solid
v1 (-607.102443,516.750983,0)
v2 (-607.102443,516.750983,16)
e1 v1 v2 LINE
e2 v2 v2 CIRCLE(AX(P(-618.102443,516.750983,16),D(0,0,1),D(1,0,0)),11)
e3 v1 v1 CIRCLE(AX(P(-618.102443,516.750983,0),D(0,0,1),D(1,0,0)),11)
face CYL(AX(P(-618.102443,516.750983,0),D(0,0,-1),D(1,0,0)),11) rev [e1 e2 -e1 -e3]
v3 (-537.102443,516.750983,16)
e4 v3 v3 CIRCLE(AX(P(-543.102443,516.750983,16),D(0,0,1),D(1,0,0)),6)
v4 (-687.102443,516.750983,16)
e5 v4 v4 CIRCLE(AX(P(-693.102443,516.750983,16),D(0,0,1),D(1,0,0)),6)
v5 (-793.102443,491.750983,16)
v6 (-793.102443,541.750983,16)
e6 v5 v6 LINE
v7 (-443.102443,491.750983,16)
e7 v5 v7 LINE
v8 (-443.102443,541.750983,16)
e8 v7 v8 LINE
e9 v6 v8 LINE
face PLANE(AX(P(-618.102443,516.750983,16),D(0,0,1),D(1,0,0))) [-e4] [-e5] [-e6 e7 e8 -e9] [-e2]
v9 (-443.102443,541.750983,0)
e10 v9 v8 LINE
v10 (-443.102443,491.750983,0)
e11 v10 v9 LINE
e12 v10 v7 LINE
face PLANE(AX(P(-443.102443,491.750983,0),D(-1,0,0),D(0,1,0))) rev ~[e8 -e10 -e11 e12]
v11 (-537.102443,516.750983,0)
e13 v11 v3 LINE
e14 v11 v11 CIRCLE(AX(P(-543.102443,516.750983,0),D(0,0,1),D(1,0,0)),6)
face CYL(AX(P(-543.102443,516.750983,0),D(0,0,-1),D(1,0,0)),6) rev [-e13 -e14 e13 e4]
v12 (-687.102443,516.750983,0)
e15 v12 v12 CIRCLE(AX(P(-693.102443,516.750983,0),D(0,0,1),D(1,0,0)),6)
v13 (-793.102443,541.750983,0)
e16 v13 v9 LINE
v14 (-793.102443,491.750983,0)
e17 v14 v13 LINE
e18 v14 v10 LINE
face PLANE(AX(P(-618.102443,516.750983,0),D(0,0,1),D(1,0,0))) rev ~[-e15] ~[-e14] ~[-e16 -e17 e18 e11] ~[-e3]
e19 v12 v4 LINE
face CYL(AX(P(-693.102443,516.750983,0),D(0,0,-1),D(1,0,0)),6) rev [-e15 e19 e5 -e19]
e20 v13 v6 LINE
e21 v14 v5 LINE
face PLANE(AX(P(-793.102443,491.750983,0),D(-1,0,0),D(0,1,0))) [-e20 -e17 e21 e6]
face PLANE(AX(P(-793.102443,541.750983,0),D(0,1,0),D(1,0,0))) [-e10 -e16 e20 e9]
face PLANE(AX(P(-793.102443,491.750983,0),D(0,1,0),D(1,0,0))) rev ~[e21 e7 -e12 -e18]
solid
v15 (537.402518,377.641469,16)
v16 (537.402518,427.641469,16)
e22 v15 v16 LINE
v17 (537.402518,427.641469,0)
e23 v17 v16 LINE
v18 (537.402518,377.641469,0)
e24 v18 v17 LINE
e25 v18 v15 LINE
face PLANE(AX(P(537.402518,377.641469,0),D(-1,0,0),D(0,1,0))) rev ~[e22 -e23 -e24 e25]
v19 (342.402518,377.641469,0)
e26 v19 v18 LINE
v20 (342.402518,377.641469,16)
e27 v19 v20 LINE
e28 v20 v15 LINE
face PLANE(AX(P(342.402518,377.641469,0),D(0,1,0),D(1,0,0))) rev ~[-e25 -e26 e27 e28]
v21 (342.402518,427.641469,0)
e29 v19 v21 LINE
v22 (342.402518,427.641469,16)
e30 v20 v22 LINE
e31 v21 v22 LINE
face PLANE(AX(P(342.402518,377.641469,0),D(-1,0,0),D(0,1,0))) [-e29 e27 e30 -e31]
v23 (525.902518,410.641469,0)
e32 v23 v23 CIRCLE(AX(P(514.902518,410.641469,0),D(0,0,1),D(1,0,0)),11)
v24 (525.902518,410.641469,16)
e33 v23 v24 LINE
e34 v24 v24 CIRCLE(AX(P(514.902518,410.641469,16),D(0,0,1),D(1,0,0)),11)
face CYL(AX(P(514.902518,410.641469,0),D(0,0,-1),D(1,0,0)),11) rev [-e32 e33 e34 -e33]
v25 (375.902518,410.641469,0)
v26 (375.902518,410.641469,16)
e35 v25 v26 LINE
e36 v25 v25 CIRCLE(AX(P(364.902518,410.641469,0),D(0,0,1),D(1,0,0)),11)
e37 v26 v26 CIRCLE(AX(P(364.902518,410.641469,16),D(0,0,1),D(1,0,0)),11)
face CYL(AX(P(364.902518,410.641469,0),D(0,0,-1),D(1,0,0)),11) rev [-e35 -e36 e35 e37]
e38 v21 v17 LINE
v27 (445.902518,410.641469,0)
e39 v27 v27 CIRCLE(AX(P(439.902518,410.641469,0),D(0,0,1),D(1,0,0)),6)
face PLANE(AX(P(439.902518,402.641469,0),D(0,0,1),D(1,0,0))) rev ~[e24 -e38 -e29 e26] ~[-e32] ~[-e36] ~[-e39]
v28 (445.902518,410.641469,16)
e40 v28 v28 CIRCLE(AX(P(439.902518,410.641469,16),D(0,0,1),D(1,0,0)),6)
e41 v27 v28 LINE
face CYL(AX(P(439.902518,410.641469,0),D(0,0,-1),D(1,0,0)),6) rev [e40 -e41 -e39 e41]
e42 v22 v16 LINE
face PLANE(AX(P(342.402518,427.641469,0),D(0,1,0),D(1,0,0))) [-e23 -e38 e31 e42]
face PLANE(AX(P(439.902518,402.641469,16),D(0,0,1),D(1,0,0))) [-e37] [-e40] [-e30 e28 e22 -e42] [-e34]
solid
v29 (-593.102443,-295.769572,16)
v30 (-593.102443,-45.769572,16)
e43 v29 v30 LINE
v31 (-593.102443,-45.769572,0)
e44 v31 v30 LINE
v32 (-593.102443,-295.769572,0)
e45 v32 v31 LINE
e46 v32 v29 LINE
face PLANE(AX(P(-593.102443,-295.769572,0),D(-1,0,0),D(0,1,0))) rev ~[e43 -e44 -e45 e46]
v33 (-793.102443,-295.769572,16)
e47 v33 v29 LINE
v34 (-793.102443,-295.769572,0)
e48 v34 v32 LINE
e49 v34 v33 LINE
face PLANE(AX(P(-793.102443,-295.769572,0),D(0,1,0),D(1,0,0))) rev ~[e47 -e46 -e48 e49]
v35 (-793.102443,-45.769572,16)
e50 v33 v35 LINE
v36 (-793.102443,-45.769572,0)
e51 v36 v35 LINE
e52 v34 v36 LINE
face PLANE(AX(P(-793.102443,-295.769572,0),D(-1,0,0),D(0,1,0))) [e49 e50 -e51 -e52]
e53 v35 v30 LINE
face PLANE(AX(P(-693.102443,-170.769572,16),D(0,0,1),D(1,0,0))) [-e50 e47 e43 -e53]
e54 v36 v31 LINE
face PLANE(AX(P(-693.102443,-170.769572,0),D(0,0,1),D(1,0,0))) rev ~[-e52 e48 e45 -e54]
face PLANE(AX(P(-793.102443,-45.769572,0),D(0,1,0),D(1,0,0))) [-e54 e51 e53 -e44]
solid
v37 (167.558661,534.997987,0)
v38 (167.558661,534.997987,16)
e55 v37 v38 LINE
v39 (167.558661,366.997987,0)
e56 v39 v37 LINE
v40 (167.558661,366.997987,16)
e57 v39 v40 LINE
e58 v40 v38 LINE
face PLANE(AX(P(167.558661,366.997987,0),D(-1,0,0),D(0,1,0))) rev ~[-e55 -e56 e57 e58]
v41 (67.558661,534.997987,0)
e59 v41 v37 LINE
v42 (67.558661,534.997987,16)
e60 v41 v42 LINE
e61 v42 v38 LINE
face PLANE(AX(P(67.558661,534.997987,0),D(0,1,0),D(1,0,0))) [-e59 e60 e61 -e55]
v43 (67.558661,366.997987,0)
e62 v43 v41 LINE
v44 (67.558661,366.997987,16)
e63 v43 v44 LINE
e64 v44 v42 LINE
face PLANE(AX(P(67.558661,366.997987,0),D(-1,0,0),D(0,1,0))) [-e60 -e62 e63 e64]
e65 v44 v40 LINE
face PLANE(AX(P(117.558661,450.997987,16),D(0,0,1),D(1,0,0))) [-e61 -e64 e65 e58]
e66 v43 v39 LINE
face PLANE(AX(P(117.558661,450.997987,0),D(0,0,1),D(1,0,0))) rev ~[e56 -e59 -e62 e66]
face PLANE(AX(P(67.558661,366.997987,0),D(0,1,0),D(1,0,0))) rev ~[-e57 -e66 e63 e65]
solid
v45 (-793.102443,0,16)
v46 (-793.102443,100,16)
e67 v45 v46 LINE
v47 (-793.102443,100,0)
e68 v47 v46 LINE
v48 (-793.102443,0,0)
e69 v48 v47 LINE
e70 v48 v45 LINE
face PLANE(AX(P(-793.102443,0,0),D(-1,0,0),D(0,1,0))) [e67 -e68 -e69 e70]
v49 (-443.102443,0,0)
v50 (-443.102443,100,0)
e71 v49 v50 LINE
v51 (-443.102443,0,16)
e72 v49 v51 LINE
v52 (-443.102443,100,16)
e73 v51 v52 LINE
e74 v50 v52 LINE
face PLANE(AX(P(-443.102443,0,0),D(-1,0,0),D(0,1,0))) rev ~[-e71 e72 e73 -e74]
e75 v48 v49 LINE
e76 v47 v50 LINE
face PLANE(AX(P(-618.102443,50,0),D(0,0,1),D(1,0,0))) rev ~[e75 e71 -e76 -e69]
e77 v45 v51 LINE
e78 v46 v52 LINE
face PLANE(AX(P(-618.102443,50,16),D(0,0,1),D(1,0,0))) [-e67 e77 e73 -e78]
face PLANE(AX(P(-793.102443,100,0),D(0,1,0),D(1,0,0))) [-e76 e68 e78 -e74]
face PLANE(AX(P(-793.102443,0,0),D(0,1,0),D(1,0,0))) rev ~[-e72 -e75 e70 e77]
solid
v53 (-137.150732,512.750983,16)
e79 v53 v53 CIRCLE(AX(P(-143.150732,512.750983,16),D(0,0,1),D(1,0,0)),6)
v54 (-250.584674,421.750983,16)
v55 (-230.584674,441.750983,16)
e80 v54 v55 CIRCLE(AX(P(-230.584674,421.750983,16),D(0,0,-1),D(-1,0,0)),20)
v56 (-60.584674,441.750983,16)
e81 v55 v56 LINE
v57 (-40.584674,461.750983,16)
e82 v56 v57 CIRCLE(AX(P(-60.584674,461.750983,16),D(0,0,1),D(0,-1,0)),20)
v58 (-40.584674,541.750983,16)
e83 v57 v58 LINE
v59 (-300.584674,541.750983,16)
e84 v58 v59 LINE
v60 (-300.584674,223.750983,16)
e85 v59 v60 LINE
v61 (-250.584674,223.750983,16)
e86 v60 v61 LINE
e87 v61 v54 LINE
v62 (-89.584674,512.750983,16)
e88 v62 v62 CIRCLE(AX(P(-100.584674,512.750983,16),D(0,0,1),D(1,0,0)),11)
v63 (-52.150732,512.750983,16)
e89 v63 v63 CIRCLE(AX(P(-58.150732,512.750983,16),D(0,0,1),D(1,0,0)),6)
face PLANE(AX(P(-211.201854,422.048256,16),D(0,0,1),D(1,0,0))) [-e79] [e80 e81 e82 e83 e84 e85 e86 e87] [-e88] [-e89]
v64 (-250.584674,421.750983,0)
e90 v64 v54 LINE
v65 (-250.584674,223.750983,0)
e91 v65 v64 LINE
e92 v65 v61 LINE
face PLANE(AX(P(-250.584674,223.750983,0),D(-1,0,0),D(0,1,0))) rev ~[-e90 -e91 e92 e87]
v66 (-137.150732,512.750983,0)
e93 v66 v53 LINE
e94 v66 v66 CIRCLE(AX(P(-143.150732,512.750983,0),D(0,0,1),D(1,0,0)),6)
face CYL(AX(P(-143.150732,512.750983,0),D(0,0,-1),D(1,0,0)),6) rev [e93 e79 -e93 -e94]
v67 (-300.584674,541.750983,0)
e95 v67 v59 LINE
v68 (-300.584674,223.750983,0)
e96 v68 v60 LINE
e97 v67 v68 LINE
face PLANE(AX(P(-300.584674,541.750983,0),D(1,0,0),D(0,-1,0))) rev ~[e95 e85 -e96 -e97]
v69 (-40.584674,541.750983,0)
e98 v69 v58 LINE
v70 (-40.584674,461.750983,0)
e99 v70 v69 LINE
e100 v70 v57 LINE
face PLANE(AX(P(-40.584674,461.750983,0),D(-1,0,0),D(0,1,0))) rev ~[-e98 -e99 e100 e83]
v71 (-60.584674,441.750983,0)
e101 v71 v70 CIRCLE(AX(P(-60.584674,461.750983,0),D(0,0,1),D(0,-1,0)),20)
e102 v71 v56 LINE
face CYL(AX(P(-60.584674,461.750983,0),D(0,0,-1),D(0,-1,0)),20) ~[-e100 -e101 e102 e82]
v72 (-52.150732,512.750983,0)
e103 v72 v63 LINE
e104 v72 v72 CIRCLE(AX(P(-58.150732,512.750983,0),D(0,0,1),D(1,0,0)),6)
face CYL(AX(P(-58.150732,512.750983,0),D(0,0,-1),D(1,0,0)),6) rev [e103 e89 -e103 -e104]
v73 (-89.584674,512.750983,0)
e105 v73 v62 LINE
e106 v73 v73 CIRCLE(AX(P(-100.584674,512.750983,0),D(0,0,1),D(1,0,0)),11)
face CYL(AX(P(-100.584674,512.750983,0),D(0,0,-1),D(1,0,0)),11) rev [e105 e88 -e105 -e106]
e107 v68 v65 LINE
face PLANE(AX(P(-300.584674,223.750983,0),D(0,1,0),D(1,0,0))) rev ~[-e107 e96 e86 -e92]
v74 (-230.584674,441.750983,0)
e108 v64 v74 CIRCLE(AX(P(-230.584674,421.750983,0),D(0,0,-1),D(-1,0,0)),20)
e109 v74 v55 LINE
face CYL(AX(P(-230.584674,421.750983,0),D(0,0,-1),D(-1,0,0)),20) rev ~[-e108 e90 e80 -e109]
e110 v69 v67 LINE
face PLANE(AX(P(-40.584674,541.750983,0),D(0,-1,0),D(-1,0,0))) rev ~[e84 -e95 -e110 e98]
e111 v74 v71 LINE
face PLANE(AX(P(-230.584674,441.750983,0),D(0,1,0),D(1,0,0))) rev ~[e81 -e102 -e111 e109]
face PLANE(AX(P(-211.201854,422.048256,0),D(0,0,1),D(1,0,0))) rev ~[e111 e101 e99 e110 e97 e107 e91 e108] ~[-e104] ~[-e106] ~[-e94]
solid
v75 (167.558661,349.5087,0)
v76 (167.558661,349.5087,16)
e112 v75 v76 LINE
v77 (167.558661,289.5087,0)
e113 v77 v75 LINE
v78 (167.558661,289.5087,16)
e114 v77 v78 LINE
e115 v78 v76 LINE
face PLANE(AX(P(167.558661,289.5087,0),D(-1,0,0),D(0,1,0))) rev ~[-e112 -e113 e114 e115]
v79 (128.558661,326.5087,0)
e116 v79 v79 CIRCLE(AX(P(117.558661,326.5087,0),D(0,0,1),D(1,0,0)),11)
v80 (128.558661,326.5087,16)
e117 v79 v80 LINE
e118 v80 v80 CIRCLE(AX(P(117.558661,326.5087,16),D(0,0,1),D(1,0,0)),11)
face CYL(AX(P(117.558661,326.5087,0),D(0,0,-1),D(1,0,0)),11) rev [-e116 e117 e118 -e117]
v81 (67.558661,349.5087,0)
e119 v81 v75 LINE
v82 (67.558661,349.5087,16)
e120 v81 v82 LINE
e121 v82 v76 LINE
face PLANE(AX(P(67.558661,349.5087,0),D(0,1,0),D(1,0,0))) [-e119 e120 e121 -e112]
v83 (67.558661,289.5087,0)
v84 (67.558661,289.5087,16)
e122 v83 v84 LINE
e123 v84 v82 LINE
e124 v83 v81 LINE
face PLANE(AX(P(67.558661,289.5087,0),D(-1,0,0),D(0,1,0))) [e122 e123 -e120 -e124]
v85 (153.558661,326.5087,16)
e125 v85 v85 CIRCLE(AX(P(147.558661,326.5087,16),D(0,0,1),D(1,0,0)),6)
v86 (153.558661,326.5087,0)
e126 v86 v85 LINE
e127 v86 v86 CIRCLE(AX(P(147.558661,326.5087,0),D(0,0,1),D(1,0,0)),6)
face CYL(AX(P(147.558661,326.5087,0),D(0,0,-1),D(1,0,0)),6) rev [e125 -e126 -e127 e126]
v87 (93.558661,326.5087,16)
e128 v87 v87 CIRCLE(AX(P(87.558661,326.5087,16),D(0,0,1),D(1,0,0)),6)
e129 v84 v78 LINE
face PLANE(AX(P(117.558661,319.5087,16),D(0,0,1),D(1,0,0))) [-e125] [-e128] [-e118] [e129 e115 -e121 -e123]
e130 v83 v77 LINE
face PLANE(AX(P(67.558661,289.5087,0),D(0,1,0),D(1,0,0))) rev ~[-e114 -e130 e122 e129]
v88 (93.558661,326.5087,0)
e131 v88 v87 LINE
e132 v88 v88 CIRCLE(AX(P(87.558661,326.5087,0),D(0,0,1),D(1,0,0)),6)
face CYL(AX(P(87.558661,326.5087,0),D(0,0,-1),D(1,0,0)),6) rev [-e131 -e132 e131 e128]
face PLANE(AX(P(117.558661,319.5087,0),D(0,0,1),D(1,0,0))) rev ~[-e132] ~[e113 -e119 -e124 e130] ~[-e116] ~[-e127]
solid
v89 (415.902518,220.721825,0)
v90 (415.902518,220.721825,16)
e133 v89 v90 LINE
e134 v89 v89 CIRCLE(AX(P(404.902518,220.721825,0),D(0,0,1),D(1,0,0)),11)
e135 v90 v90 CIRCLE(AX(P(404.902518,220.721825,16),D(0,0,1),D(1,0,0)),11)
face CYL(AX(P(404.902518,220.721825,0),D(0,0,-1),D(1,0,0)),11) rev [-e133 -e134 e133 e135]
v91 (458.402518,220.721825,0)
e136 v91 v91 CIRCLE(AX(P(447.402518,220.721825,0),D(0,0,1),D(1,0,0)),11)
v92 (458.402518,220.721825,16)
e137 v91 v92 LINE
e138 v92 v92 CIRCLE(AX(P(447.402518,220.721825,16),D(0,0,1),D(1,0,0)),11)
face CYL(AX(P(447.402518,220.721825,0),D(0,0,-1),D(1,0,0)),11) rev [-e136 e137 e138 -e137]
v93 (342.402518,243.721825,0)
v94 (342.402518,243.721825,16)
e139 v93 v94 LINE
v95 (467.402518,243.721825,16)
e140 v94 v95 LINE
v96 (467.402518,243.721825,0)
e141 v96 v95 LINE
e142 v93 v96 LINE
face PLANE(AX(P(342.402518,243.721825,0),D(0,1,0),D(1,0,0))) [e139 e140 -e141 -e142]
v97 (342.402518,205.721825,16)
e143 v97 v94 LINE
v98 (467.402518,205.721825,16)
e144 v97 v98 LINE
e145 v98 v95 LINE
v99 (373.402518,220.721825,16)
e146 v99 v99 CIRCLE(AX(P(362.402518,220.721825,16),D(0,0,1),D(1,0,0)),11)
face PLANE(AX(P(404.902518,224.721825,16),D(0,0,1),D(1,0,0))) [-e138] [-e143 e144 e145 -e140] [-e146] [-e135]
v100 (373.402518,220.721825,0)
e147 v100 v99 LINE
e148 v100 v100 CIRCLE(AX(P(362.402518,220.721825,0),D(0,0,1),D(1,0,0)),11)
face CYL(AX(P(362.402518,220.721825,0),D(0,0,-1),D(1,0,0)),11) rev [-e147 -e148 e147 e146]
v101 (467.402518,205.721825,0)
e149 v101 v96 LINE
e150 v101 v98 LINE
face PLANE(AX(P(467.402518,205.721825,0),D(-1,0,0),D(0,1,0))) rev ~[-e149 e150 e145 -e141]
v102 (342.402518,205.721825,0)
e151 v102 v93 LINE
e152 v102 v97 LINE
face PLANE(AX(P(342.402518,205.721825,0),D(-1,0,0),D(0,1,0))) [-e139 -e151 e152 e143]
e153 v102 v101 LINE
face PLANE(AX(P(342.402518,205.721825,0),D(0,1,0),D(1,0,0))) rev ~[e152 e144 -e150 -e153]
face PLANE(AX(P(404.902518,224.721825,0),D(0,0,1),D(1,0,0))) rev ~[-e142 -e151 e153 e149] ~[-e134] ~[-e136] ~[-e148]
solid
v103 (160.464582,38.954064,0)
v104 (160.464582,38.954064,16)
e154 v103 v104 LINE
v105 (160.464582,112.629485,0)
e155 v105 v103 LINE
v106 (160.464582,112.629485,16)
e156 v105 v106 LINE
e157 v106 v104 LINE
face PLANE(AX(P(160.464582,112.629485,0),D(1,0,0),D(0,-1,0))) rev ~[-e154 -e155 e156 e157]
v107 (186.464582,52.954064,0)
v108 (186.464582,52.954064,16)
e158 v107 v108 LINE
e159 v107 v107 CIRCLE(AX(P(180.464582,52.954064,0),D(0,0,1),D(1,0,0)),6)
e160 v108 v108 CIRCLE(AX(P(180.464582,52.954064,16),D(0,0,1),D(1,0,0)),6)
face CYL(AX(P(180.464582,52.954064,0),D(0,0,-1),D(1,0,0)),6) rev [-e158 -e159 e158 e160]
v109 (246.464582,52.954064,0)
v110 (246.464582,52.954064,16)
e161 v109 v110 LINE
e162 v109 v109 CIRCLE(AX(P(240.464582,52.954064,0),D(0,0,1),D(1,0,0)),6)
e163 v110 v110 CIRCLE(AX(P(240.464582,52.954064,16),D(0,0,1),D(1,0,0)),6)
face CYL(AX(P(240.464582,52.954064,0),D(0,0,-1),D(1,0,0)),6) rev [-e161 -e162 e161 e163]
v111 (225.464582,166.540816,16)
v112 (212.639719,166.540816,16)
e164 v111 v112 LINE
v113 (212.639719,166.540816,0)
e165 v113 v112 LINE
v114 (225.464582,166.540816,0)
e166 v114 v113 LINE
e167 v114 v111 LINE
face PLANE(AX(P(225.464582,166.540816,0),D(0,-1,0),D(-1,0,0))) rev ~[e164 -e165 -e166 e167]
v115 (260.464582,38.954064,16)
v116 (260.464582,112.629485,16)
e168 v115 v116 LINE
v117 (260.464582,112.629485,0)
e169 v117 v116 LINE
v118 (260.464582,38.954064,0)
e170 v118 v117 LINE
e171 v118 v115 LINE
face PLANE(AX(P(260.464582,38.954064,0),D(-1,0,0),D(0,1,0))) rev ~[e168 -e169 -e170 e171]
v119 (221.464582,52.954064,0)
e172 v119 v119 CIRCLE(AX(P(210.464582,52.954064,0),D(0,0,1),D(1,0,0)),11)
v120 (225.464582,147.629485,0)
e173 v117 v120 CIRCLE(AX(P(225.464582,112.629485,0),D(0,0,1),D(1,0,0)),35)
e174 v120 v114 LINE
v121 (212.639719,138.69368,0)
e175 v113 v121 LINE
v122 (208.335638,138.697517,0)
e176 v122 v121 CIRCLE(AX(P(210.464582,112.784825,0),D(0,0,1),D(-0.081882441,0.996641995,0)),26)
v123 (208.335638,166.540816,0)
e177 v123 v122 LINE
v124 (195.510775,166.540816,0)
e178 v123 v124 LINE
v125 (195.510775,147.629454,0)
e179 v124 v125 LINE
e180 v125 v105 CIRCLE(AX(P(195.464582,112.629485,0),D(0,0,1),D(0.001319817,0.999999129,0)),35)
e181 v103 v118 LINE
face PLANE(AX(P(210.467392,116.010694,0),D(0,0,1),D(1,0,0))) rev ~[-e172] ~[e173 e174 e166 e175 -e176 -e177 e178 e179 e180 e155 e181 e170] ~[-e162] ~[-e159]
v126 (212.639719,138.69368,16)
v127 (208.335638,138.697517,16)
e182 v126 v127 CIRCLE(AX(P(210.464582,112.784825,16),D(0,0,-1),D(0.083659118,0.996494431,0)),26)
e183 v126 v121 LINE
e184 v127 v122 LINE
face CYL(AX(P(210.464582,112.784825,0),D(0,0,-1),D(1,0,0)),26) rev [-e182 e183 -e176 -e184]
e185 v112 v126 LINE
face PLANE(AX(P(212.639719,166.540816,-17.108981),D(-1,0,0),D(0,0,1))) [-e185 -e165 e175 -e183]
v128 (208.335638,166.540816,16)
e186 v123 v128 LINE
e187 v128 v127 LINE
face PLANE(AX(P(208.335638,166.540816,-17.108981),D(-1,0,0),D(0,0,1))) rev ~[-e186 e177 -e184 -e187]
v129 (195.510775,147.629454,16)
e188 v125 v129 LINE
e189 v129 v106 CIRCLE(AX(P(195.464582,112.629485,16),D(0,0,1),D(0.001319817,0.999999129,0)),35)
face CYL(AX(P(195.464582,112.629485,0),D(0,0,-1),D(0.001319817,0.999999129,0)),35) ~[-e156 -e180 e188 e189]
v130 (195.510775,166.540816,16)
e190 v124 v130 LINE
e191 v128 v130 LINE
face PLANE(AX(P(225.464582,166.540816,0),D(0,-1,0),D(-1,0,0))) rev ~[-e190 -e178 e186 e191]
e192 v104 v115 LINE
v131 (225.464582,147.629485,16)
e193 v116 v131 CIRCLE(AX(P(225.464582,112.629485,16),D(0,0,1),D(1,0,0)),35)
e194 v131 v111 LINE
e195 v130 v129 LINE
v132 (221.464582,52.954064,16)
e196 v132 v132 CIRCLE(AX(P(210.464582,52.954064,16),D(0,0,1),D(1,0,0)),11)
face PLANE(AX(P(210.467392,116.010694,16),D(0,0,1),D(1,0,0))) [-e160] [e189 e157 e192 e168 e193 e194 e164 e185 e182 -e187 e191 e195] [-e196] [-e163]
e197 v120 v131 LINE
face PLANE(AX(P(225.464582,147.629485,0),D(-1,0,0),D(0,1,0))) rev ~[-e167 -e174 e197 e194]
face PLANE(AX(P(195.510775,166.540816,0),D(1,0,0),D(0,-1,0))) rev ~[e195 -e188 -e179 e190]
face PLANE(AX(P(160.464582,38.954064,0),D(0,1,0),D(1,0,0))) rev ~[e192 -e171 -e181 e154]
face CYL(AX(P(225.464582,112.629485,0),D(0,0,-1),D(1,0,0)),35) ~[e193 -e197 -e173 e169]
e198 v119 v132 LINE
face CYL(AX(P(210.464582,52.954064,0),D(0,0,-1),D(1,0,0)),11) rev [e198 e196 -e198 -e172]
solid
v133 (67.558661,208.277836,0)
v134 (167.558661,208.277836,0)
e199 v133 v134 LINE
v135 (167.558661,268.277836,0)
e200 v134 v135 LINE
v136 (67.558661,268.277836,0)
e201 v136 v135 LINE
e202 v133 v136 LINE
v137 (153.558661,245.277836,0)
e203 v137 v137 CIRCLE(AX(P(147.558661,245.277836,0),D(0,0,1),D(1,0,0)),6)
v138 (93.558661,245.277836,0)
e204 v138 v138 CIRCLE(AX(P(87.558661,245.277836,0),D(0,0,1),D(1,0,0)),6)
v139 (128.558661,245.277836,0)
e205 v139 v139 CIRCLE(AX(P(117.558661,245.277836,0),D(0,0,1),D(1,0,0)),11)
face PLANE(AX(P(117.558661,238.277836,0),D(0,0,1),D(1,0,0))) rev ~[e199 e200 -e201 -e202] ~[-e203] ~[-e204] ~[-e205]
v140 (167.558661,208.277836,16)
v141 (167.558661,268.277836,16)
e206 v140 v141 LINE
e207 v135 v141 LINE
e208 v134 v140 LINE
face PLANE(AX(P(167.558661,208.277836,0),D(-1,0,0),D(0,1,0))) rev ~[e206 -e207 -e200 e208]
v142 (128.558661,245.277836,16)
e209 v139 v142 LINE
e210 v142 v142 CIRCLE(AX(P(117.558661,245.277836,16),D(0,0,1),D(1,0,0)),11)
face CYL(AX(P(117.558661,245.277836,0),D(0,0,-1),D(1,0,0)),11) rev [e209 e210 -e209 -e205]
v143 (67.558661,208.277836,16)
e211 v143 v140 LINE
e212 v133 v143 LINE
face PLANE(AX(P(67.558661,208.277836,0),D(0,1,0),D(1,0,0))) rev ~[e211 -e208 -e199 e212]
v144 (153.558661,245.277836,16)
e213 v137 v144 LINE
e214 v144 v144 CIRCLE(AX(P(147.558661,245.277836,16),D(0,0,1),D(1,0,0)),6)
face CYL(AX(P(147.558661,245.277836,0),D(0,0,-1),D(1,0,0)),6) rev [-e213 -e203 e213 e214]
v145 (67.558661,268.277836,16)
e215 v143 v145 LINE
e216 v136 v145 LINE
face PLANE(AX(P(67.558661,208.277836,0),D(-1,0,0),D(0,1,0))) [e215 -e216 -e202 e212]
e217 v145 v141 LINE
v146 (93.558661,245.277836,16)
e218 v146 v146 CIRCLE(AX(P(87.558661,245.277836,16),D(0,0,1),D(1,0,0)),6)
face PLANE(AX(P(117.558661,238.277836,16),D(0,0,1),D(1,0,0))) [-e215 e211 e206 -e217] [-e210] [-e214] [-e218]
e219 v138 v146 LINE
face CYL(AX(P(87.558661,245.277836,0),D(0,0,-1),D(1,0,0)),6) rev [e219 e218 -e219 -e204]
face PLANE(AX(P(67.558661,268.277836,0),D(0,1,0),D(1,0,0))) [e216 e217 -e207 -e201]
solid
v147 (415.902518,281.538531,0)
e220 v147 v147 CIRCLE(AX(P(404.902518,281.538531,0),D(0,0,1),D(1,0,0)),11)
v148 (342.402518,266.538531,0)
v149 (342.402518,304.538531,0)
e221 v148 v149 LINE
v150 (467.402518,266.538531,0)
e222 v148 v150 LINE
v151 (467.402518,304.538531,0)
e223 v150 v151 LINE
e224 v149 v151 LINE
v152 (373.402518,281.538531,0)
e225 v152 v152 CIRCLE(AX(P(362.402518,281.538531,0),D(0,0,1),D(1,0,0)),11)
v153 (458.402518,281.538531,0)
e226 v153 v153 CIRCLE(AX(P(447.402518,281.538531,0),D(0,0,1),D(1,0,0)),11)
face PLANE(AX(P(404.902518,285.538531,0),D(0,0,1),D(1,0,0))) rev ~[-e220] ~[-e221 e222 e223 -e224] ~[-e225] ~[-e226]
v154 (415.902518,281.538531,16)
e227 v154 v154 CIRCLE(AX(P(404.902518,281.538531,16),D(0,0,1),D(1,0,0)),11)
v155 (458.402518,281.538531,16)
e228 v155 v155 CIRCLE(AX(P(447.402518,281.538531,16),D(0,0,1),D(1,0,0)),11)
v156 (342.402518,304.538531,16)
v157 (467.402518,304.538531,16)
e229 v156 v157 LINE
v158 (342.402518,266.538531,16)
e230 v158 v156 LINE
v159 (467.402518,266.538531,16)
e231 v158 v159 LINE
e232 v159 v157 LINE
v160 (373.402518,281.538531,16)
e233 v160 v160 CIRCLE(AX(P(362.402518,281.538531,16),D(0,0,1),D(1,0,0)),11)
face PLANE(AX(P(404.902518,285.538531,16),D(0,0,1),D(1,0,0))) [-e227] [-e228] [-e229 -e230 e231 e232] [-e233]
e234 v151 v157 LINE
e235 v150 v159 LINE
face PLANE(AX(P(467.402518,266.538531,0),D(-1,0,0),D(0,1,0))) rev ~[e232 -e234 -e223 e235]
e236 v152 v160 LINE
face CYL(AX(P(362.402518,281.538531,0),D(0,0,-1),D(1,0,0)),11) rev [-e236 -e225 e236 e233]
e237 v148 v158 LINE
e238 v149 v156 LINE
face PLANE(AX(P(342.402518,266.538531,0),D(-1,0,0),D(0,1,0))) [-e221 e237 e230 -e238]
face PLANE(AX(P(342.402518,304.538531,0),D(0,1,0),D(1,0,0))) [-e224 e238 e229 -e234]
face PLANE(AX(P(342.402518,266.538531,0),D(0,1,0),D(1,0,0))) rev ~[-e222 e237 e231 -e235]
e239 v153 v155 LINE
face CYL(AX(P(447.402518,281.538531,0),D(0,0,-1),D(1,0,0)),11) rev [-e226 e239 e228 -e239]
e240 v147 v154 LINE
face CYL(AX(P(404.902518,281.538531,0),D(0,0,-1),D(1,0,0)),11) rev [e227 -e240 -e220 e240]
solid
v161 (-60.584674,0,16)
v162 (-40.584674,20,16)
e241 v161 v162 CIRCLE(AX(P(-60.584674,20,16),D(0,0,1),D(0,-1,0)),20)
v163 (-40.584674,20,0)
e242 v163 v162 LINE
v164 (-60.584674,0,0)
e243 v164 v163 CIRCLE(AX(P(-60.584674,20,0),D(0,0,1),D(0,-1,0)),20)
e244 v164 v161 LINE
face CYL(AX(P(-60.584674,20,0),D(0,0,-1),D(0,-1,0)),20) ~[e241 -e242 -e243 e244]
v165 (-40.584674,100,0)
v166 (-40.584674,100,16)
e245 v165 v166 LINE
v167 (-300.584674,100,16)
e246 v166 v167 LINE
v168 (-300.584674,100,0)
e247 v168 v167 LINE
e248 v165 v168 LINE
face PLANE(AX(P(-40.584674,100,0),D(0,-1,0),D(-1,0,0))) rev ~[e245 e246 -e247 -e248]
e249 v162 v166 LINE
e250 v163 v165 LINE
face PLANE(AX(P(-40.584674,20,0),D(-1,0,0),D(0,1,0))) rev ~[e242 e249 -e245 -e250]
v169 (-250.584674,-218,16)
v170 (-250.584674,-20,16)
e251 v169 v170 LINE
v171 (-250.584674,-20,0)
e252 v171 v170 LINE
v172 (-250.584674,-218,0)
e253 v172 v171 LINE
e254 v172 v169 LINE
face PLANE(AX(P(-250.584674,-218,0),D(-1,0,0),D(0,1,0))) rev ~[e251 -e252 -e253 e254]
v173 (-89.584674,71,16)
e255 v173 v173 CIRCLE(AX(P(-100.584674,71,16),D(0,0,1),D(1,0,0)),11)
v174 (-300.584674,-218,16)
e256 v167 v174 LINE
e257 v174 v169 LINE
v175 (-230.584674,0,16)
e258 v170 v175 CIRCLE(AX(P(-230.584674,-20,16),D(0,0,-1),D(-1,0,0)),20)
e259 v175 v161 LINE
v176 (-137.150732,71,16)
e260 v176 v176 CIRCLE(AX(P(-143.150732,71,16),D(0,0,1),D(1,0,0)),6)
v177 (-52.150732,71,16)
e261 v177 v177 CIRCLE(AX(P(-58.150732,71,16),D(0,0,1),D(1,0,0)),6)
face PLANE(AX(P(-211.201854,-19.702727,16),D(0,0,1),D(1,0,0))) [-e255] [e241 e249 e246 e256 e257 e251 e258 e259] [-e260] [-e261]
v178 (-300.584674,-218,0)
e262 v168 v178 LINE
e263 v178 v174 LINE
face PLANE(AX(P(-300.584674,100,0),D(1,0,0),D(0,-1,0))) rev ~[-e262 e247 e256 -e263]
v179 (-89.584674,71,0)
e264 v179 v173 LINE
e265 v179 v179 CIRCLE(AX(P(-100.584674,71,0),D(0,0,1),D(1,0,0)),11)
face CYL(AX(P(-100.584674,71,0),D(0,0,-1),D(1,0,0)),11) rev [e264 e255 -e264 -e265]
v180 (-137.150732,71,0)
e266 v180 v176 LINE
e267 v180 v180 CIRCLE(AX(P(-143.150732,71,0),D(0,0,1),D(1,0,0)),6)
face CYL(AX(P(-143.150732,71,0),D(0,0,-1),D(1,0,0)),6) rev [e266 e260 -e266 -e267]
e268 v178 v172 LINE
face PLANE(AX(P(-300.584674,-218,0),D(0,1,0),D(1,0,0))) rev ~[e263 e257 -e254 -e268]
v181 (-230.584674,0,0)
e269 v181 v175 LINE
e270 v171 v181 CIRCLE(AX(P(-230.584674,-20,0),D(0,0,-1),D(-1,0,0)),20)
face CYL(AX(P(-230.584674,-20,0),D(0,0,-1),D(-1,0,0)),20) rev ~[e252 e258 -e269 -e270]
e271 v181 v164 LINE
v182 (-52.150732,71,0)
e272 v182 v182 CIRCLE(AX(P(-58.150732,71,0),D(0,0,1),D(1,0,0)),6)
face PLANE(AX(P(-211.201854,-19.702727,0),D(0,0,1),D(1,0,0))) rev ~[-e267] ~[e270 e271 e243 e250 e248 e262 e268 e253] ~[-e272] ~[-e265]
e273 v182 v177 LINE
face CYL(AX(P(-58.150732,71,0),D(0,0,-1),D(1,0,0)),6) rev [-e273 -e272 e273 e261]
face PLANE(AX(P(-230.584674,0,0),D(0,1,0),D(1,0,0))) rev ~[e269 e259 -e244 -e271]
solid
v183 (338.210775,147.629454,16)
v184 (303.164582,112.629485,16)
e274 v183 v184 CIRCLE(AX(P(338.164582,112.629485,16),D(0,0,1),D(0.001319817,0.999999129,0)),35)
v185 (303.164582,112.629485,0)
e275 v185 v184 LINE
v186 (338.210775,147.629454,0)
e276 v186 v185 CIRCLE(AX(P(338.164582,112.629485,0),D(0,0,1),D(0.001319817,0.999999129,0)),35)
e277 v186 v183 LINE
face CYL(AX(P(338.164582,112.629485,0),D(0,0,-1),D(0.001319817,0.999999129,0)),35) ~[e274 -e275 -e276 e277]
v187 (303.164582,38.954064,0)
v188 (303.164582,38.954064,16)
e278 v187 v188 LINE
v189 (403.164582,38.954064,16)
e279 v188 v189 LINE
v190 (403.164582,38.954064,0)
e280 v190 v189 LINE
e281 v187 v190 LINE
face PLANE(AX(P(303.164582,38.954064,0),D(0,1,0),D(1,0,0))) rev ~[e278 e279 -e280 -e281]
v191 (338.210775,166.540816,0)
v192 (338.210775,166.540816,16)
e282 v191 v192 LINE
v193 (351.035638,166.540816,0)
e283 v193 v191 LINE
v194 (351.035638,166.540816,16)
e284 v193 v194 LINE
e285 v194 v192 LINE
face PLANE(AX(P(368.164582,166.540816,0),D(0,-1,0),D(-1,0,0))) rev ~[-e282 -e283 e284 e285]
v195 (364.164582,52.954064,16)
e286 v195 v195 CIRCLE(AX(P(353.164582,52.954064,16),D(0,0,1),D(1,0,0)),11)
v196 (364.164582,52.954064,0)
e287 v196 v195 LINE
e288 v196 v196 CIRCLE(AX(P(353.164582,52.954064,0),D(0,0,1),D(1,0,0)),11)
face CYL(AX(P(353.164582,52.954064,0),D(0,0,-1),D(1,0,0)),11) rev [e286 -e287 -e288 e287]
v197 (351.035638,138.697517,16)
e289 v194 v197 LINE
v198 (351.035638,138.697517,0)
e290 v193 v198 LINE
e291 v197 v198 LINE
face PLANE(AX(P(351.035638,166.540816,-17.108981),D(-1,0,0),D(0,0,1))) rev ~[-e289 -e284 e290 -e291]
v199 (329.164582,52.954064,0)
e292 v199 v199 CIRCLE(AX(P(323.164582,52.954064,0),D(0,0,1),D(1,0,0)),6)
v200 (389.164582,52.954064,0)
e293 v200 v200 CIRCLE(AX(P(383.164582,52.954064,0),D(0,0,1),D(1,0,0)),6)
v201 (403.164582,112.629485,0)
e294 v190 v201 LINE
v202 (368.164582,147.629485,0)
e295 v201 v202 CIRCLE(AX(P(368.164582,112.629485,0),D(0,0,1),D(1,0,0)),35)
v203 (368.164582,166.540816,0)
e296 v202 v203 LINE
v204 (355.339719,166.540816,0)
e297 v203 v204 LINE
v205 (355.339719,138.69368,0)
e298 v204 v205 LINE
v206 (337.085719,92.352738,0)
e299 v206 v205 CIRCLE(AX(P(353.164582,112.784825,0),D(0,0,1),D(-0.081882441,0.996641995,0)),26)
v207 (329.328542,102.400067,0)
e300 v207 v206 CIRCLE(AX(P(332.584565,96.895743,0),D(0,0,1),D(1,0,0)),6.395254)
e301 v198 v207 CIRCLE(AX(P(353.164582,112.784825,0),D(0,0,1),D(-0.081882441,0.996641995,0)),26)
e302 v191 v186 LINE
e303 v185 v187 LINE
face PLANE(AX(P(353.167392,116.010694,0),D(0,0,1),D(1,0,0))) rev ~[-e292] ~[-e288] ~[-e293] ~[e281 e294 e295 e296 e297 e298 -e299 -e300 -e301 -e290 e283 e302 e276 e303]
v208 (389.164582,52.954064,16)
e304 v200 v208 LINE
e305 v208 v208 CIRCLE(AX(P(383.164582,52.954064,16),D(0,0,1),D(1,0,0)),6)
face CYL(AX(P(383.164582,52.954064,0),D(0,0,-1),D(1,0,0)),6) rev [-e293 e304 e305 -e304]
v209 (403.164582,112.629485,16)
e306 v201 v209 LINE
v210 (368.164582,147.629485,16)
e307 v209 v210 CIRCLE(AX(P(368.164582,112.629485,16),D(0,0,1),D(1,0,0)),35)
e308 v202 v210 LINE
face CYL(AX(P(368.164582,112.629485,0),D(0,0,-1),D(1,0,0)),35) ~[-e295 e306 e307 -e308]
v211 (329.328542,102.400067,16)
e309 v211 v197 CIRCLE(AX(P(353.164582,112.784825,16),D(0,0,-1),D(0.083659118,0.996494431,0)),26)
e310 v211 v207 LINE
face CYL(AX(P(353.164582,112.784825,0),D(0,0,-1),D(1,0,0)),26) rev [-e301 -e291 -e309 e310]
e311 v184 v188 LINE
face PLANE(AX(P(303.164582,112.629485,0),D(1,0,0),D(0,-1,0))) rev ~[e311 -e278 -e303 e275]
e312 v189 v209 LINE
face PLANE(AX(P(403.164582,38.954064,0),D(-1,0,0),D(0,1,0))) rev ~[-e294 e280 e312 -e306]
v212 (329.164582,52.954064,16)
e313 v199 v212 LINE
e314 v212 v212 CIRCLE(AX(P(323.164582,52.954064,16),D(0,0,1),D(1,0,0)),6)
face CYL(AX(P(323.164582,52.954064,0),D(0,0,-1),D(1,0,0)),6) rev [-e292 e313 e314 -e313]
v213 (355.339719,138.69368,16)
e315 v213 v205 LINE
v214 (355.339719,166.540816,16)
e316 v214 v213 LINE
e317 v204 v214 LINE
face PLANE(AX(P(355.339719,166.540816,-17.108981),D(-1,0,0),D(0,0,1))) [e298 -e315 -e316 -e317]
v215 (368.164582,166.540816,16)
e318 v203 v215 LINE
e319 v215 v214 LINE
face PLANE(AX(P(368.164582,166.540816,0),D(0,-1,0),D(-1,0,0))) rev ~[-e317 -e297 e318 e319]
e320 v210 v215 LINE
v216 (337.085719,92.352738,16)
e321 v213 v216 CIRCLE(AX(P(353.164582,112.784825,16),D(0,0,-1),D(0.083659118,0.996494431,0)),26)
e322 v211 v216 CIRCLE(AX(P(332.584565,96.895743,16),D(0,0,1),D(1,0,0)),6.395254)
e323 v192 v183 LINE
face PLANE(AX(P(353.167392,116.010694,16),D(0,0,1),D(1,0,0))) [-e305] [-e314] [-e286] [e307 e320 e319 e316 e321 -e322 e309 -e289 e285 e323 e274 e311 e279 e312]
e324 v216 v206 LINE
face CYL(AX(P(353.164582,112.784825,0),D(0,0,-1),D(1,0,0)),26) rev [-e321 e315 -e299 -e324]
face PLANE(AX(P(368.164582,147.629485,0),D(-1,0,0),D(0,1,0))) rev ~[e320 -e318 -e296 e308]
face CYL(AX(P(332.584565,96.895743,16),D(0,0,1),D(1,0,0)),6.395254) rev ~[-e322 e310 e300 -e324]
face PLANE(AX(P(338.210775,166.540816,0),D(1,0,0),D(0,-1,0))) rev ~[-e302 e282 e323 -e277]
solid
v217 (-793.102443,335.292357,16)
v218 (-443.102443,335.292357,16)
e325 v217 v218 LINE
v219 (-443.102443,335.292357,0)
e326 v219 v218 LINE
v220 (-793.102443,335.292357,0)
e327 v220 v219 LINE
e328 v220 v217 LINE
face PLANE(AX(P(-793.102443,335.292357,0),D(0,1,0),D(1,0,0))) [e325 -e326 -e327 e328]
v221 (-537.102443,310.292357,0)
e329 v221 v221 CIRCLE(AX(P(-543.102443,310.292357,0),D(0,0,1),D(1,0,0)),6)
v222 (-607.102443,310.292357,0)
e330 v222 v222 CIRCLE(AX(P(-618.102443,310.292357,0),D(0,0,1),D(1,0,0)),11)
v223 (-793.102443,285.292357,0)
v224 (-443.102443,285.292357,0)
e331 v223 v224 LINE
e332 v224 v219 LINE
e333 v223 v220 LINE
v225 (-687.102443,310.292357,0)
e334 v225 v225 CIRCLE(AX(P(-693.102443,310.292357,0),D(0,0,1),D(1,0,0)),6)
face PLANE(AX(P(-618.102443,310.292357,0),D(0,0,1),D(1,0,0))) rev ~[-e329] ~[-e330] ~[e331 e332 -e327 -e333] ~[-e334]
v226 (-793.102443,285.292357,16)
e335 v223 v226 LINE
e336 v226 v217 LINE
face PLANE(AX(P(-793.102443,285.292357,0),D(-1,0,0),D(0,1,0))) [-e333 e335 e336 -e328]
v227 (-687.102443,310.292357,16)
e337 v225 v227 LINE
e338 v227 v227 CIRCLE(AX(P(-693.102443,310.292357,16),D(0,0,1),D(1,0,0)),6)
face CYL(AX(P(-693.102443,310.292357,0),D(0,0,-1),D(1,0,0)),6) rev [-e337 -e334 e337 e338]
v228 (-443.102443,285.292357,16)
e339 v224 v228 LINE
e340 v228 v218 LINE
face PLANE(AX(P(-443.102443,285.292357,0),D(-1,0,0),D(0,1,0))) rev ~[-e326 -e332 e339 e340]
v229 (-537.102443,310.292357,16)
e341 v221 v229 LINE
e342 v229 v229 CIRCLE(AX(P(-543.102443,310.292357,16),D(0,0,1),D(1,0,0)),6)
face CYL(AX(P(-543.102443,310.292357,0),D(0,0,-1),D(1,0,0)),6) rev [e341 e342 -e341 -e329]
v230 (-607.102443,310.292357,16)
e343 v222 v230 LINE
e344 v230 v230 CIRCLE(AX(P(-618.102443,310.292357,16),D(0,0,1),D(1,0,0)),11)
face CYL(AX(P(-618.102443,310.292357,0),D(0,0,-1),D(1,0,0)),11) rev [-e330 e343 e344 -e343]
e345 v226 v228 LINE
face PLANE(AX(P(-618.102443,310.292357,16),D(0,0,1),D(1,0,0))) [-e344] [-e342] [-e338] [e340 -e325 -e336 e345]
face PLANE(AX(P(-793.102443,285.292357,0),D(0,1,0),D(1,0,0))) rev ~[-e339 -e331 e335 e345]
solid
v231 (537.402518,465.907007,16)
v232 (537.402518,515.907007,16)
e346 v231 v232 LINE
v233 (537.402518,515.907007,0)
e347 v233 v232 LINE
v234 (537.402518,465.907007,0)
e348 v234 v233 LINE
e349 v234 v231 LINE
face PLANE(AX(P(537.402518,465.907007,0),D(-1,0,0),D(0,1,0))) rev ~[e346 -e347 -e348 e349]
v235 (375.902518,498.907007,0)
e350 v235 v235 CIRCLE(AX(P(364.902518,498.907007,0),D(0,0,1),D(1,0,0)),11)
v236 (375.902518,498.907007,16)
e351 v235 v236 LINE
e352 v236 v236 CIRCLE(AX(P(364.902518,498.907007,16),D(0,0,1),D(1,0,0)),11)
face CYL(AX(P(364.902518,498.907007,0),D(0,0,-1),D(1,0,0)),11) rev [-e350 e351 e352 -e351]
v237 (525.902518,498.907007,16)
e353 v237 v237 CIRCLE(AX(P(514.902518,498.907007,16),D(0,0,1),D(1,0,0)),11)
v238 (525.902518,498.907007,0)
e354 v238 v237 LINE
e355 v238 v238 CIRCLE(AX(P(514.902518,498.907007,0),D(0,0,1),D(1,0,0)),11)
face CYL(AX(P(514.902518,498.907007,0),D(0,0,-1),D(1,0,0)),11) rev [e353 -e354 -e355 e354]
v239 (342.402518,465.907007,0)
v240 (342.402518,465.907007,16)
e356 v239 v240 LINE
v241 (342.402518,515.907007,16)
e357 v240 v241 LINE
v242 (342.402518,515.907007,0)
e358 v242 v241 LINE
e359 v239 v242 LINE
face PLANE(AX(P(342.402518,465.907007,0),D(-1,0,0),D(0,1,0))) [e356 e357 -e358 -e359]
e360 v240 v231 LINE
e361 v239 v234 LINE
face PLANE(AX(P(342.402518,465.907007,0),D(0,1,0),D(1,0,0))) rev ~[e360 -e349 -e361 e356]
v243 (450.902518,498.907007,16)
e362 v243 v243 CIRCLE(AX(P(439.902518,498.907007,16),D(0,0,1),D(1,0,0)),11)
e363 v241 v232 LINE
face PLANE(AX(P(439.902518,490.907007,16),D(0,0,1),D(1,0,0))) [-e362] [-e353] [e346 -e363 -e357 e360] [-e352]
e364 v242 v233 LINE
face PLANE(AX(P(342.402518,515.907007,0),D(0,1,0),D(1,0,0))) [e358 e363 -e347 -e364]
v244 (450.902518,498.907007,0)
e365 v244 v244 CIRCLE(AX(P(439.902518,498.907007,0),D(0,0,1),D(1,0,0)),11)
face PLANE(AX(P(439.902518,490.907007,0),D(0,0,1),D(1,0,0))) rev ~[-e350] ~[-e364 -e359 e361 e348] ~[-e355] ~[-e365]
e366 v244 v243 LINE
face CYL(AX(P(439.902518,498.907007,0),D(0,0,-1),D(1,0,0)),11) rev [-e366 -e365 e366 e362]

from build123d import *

# Parameters (mm, degrees)
F0_W     = 350
F0_H     = 50
F0_R     = 6
F0_R_2   = 11
F1_DEPTH = 16
F0_H_2   = 100
F0_W_2   = 200
F0_H_3   = 250
F0_W_3   = 100
F0_H_4   = 168
F0_H_5   = 60
F0_W_4   = 195
F0_W_5   = 125
F0_H_6   = 38
F0_R_3   = 26
F0_H_7   = 40
F2_W     = 4.3040805393
F2_H     = 34.2179611325
F3_DEPTH = 51
F7_R     = 6.3952540095
F8_DEPTH = 16.001


with BuildPart() as f1:
    # F0 (on Top) → F1 (new body)
    with BuildSketch(Plane.XY):
        with Locations((-618.1024432182, 310.2923572063)):
            Rectangle(F0_W, F0_H)
        with Locations((-693.1024432182, 310.2923572063)):
            Circle(F0_R, mode=Mode.SUBTRACT)
        with Locations((-618.1024432182, 310.2923572063)):
            Circle(F0_R_2, mode=Mode.SUBTRACT)
        with Locations((-543.1024432182, 310.2923572063)):
            Circle(F0_R, mode=Mode.SUBTRACT)
    extrude(amount=F1_DEPTH)


with BuildPart() as f1b:
    # F0 (on Top) → F1, piece 2 (new body)
    with BuildSketch(Plane.XY):
        with Locations((-618.1024432182, 50)):
            Rectangle(F0_W, F0_H_2)
    extrude(amount=F1_DEPTH)


with BuildPart() as f1c:
    # F0 (on Top) → F1, piece 3 (new body)
    with BuildSketch(Plane.XY):
        with BuildLine():
            Line((-40.5846738815, 541.7509832382), (-300.5846738815, 541.7509832382))
            Line((-300.5846738815, 541.7509832382), (-300.5846738815, 223.7509832382))
            Line((-300.5846738815, 223.7509832382), (-250.5846738815, 223.7509832382))
            Line((-250.5846738815, 223.7509832382), (-250.5846738815, 421.7509832382))
            ThreePointArc((-250.5846738815, 421.7509832382), (-244.7268095053, 435.893118862), (-230.5846738815, 441.7509832382))
            Line((-230.5846738815, 441.7509832382), (-60.5846738815, 441.7509832382))
            ThreePointArc((-60.5846738815, 441.7509832382), (-46.4425382578, 447.6088476145), (-40.5846738815, 461.7509832382))
            Line((-40.5846738815, 461.7509832382), (-40.5846738815, 541.7509832382))
        make_face()
        with Locations((-143.1507319212, 512.7509832382)):
            Circle(F0_R, mode=Mode.SUBTRACT)
        with Locations((-100.5846738815, 512.7509832382)):
            Circle(F0_R_2, mode=Mode.SUBTRACT)
        with Locations((-58.1507319212, 512.7509832382)):
            Circle(F0_R, mode=Mode.SUBTRACT)
    extrude(amount=F1_DEPTH)


with BuildPart() as f1d:
    # F0 (on Top) → F1, piece 4 (new body)
    with BuildSketch(Plane.XY):
        with Locations((-618.1024432182, 516.7509832382)):
            Rectangle(F0_W, F0_H)
        with Locations((-693.1024432182, 516.7509832382)):
            Circle(F0_R, mode=Mode.SUBTRACT)
        with Locations((-618.1024432182, 516.7509832382)):
            Circle(F0_R_2, mode=Mode.SUBTRACT)
        with Locations((-543.1024432182, 516.7509832382)):
            Circle(F0_R, mode=Mode.SUBTRACT)
    extrude(amount=F1_DEPTH)


with BuildPart() as f1e:
    # F0 (on Top) → F1, piece 5 (new body)
    with BuildSketch(Plane.XY):
        with BuildLine():
            Line((-40.5846738815, 100), (-300.5846738815, 100))
            Line((-300.5846738815, 100), (-300.5846738815, -218))
            Line((-300.5846738815, -218), (-250.5846738815, -218))
            Line((-250.5846738815, -218), (-250.5846738815, -20))
            ThreePointArc((-250.5846738815, -20), (-244.7268095053, -5.8578643763), (-230.5846738815, 0))
            Line((-230.5846738815, 0), (-60.5846738815, 0))
            ThreePointArc((-60.5846738815, 0), (-46.4425382578, 5.8578643763), (-40.5846738815, 20))
            Line((-40.5846738815, 20), (-40.5846738815, 100))
        make_face()
        with Locations((-143.1507319212, 71)):
            Circle(F0_R, mode=Mode.SUBTRACT)
        with Locations((-100.5846738815, 71)):
            Circle(F0_R_2, mode=Mode.SUBTRACT)
        with Locations((-58.1507319212, 71)):
            Circle(F0_R, mode=Mode.SUBTRACT)
    extrude(amount=F1_DEPTH)


with BuildPart() as f1f:
    # F0 (on Top) → F1, piece 6 (new body)
    with BuildSketch(Plane.XY):
        with Locations((-693.1024432182, -170.769572258)):
            Rectangle(F0_W_2, F0_H_3)
    extrude(amount=F1_DEPTH)


with BuildPart() as f1g:
    # F0 (on Top) → F1, piece 7 (new body)
    with BuildSketch(Plane.XY):
        with Locations((117.5586611032, 450.9979870319)):
            Rectangle(F0_W_3, F0_H_4)
    extrude(amount=F1_DEPTH)


with BuildPart() as f1h:
    # F0 (on Top) → F1, piece 8 (new body)
    with BuildSketch(Plane.XY):
        with Locations((117.5586611032, 319.5087003708)):
            Rectangle(F0_W_3, F0_H_5)
        with Locations((87.5586611032, 326.5087003708)):
            Circle(F0_R, mode=Mode.SUBTRACT)
        with Locations((117.5586611032, 326.5087003708)):
            Circle(F0_R_2, mode=Mode.SUBTRACT)
        with Locations((147.5586611032, 326.5087003708)):
            Circle(F0_R, mode=Mode.SUBTRACT)
    extrude(amount=F1_DEPTH)


with BuildPart() as f1i:
    # F0 (on Top) → F1, piece 9 (new body)
    with BuildSketch(Plane.XY):
        with Locations((439.9025177956, 490.9070074558)):
            Rectangle(F0_W_4, F0_H)
        with Locations((364.9025177956, 498.9070074558)):
            Circle(F0_R_2, mode=Mode.SUBTRACT)
        with Locations((439.9025177956, 498.9070074558)):
            Circle(F0_R_2, mode=Mode.SUBTRACT)
        with Locations((514.9025177956, 498.9070074558)):
            Circle(F0_R_2, mode=Mode.SUBTRACT)
    extrude(amount=F1_DEPTH)


with BuildPart() as f1j:
    # F0 (on Top) → F1, piece 10 (new body)
    with BuildSketch(Plane.XY):
        with Locations((117.5586611032, 238.277836442)):
            Rectangle(F0_W_3, F0_H_5)
        with Locations((87.5586611032, 245.277836442)):
            Circle(F0_R, mode=Mode.SUBTRACT)
        with Locations((117.5586611032, 245.277836442)):
            Circle(F0_R_2, mode=Mode.SUBTRACT)
        with Locations((147.5586611032, 245.277836442)):
            Circle(F0_R, mode=Mode.SUBTRACT)
    extrude(amount=F1_DEPTH)


with BuildPart() as f1k:
    # F0 (on Top) → F1, piece 11 (new body)
    with BuildSketch(Plane.XY):
        with Locations((439.9025177956, 402.6414692402)):
            Rectangle(F0_W_4, F0_H)
        with Locations((364.9025177956, 410.6414692402)):
            Circle(F0_R_2, mode=Mode.SUBTRACT)
        with Locations((439.9025177956, 410.6414692402)):
            Circle(F0_R, mode=Mode.SUBTRACT)
        with Locations((514.9025177956, 410.6414692402)):
            Circle(F0_R_2, mode=Mode.SUBTRACT)
    extrude(amount=F1_DEPTH)


with BuildPart() as f1l:
    # F0 (on Top) → F1, piece 12 (new body)
    with BuildSketch(Plane.XY):
        with Locations((404.9025177956, 285.5385305882)):
            Rectangle(F0_W_5, F0_H_6)
        with Locations((362.4025177956, 281.5385305881)):
            Circle(F0_R_2, mode=Mode.SUBTRACT)
        with Locations((404.9025177956, 281.5385305881)):
            Circle(F0_R_2, mode=Mode.SUBTRACT)
        with Locations((447.4025177956, 281.5385305881)):
            Circle(F0_R_2, mode=Mode.SUBTRACT)
    extrude(amount=F1_DEPTH)


with BuildPart() as f1m:
    # F0 (on Top) → F1, piece 13 (new body)
    with BuildSketch(Plane.XY):
        with Locations((404.9025177956, 224.7218253613)):
            Rectangle(F0_W_5, F0_H_6)
        with Locations((362.4025177956, 220.7218253613)):
            Circle(F0_R_2, mode=Mode.SUBTRACT)
        with Locations((404.9025177956, 220.7218253613)):
            Circle(F0_R_2, mode=Mode.SUBTRACT)
        with Locations((447.4025177956, 220.7218253613)):
            Circle(F0_R_2, mode=Mode.SUBTRACT)
    extrude(amount=F1_DEPTH)


with BuildPart() as f1n:
    # F0 (on Top) → F1, piece 14 (new body)
    with BuildSketch(Plane.XY):
        with BuildLine():
            Line((160.4645815161, 112.6294845343), (160.4645815161, 78.9540644288))
            Line((160.4645815161, 78.9540644288), (260.4645815161, 78.9540644288))
            Line((260.4645815161, 78.9540644288), (260.4645815161, 112.6294845343))
            ThreePointArc((260.4645815161, 112.6294845343), (250.2133188576, 137.3782218758), (225.4645815161, 147.6294845343))
            Line((225.4645815161, 147.6294845343), (225.4645815161, 166.5408164263))
            Line((225.4645815161, 166.5408164263), (212.0739363962, 166.5408164263))
            Line((212.0739363962, 166.5408164263), (208.9014202356, 166.5408164263))
            Line((208.9014202356, 166.5408164263), (195.5107751158, 166.5408164263))
            Line((195.5107751158, 166.5408164263), (195.5107751158, 147.6294540507))
            ThreePointArc((195.5107751158, 147.6294540507), (170.7321814707, 137.3945483944), (160.4645815161, 112.6294845343))
        make_face()
        with Locations((210.4645815161, 112.7848252654)):
            Circle(F0_R_3, mode=Mode.SUBTRACT)
        with Locations((210.4645815161, 58.9540644288)):
            Rectangle(F0_W_3, F0_H_7)
        with Locations((180.4645815161, 52.9540644288)):
            Circle(F0_R, mode=Mode.SUBTRACT)
        with Locations((210.4645815161, 52.9540644288)):
            Circle(F0_R_2, mode=Mode.SUBTRACT)
        with Locations((240.4645815161, 52.9540644288)):
            Circle(F0_R, mode=Mode.SUBTRACT)
    extrude(amount=F1_DEPTH)

    # F2 (on face) → F3 (cut)
    with BuildSketch(Plane(origin=(0, 166.5408164263, 0), x_dir=(-1, 0, 0), z_dir=(0, 1, 0))):
        with Locations((-210.4876783159, 0)):
            Rectangle(F2_W, F2_H)
    extrude(amount=-F3_DEPTH, mode=Mode.SUBTRACT)


with BuildPart() as f4_1:
    # F4: copy of F1n
    add(f1n.part)


with BuildPart() as f5_1:
    # F5: copy of F4_1
    add(f4_1.part.moved(Location((142.7, 0, 0))))

    # F7 (on face) → F8 (cut, through all)
    with BuildSketch(Plane.XY.offset(16)):
        with Locations((332.5845653093, 96.8957430726)):
            Circle(F7_R)
    extrude(amount=-F8_DEPTH, mode=Mode.SUBTRACT)


solid = Compound([f1.part, f1b.part, f1c.part, f1d.part, f1e.part, f1f.part, f1g.part, f1h.part, f1i.part, f1j.part, f1k.part, f1l.part, f1m.part, f1n.part, f5_1.part])
